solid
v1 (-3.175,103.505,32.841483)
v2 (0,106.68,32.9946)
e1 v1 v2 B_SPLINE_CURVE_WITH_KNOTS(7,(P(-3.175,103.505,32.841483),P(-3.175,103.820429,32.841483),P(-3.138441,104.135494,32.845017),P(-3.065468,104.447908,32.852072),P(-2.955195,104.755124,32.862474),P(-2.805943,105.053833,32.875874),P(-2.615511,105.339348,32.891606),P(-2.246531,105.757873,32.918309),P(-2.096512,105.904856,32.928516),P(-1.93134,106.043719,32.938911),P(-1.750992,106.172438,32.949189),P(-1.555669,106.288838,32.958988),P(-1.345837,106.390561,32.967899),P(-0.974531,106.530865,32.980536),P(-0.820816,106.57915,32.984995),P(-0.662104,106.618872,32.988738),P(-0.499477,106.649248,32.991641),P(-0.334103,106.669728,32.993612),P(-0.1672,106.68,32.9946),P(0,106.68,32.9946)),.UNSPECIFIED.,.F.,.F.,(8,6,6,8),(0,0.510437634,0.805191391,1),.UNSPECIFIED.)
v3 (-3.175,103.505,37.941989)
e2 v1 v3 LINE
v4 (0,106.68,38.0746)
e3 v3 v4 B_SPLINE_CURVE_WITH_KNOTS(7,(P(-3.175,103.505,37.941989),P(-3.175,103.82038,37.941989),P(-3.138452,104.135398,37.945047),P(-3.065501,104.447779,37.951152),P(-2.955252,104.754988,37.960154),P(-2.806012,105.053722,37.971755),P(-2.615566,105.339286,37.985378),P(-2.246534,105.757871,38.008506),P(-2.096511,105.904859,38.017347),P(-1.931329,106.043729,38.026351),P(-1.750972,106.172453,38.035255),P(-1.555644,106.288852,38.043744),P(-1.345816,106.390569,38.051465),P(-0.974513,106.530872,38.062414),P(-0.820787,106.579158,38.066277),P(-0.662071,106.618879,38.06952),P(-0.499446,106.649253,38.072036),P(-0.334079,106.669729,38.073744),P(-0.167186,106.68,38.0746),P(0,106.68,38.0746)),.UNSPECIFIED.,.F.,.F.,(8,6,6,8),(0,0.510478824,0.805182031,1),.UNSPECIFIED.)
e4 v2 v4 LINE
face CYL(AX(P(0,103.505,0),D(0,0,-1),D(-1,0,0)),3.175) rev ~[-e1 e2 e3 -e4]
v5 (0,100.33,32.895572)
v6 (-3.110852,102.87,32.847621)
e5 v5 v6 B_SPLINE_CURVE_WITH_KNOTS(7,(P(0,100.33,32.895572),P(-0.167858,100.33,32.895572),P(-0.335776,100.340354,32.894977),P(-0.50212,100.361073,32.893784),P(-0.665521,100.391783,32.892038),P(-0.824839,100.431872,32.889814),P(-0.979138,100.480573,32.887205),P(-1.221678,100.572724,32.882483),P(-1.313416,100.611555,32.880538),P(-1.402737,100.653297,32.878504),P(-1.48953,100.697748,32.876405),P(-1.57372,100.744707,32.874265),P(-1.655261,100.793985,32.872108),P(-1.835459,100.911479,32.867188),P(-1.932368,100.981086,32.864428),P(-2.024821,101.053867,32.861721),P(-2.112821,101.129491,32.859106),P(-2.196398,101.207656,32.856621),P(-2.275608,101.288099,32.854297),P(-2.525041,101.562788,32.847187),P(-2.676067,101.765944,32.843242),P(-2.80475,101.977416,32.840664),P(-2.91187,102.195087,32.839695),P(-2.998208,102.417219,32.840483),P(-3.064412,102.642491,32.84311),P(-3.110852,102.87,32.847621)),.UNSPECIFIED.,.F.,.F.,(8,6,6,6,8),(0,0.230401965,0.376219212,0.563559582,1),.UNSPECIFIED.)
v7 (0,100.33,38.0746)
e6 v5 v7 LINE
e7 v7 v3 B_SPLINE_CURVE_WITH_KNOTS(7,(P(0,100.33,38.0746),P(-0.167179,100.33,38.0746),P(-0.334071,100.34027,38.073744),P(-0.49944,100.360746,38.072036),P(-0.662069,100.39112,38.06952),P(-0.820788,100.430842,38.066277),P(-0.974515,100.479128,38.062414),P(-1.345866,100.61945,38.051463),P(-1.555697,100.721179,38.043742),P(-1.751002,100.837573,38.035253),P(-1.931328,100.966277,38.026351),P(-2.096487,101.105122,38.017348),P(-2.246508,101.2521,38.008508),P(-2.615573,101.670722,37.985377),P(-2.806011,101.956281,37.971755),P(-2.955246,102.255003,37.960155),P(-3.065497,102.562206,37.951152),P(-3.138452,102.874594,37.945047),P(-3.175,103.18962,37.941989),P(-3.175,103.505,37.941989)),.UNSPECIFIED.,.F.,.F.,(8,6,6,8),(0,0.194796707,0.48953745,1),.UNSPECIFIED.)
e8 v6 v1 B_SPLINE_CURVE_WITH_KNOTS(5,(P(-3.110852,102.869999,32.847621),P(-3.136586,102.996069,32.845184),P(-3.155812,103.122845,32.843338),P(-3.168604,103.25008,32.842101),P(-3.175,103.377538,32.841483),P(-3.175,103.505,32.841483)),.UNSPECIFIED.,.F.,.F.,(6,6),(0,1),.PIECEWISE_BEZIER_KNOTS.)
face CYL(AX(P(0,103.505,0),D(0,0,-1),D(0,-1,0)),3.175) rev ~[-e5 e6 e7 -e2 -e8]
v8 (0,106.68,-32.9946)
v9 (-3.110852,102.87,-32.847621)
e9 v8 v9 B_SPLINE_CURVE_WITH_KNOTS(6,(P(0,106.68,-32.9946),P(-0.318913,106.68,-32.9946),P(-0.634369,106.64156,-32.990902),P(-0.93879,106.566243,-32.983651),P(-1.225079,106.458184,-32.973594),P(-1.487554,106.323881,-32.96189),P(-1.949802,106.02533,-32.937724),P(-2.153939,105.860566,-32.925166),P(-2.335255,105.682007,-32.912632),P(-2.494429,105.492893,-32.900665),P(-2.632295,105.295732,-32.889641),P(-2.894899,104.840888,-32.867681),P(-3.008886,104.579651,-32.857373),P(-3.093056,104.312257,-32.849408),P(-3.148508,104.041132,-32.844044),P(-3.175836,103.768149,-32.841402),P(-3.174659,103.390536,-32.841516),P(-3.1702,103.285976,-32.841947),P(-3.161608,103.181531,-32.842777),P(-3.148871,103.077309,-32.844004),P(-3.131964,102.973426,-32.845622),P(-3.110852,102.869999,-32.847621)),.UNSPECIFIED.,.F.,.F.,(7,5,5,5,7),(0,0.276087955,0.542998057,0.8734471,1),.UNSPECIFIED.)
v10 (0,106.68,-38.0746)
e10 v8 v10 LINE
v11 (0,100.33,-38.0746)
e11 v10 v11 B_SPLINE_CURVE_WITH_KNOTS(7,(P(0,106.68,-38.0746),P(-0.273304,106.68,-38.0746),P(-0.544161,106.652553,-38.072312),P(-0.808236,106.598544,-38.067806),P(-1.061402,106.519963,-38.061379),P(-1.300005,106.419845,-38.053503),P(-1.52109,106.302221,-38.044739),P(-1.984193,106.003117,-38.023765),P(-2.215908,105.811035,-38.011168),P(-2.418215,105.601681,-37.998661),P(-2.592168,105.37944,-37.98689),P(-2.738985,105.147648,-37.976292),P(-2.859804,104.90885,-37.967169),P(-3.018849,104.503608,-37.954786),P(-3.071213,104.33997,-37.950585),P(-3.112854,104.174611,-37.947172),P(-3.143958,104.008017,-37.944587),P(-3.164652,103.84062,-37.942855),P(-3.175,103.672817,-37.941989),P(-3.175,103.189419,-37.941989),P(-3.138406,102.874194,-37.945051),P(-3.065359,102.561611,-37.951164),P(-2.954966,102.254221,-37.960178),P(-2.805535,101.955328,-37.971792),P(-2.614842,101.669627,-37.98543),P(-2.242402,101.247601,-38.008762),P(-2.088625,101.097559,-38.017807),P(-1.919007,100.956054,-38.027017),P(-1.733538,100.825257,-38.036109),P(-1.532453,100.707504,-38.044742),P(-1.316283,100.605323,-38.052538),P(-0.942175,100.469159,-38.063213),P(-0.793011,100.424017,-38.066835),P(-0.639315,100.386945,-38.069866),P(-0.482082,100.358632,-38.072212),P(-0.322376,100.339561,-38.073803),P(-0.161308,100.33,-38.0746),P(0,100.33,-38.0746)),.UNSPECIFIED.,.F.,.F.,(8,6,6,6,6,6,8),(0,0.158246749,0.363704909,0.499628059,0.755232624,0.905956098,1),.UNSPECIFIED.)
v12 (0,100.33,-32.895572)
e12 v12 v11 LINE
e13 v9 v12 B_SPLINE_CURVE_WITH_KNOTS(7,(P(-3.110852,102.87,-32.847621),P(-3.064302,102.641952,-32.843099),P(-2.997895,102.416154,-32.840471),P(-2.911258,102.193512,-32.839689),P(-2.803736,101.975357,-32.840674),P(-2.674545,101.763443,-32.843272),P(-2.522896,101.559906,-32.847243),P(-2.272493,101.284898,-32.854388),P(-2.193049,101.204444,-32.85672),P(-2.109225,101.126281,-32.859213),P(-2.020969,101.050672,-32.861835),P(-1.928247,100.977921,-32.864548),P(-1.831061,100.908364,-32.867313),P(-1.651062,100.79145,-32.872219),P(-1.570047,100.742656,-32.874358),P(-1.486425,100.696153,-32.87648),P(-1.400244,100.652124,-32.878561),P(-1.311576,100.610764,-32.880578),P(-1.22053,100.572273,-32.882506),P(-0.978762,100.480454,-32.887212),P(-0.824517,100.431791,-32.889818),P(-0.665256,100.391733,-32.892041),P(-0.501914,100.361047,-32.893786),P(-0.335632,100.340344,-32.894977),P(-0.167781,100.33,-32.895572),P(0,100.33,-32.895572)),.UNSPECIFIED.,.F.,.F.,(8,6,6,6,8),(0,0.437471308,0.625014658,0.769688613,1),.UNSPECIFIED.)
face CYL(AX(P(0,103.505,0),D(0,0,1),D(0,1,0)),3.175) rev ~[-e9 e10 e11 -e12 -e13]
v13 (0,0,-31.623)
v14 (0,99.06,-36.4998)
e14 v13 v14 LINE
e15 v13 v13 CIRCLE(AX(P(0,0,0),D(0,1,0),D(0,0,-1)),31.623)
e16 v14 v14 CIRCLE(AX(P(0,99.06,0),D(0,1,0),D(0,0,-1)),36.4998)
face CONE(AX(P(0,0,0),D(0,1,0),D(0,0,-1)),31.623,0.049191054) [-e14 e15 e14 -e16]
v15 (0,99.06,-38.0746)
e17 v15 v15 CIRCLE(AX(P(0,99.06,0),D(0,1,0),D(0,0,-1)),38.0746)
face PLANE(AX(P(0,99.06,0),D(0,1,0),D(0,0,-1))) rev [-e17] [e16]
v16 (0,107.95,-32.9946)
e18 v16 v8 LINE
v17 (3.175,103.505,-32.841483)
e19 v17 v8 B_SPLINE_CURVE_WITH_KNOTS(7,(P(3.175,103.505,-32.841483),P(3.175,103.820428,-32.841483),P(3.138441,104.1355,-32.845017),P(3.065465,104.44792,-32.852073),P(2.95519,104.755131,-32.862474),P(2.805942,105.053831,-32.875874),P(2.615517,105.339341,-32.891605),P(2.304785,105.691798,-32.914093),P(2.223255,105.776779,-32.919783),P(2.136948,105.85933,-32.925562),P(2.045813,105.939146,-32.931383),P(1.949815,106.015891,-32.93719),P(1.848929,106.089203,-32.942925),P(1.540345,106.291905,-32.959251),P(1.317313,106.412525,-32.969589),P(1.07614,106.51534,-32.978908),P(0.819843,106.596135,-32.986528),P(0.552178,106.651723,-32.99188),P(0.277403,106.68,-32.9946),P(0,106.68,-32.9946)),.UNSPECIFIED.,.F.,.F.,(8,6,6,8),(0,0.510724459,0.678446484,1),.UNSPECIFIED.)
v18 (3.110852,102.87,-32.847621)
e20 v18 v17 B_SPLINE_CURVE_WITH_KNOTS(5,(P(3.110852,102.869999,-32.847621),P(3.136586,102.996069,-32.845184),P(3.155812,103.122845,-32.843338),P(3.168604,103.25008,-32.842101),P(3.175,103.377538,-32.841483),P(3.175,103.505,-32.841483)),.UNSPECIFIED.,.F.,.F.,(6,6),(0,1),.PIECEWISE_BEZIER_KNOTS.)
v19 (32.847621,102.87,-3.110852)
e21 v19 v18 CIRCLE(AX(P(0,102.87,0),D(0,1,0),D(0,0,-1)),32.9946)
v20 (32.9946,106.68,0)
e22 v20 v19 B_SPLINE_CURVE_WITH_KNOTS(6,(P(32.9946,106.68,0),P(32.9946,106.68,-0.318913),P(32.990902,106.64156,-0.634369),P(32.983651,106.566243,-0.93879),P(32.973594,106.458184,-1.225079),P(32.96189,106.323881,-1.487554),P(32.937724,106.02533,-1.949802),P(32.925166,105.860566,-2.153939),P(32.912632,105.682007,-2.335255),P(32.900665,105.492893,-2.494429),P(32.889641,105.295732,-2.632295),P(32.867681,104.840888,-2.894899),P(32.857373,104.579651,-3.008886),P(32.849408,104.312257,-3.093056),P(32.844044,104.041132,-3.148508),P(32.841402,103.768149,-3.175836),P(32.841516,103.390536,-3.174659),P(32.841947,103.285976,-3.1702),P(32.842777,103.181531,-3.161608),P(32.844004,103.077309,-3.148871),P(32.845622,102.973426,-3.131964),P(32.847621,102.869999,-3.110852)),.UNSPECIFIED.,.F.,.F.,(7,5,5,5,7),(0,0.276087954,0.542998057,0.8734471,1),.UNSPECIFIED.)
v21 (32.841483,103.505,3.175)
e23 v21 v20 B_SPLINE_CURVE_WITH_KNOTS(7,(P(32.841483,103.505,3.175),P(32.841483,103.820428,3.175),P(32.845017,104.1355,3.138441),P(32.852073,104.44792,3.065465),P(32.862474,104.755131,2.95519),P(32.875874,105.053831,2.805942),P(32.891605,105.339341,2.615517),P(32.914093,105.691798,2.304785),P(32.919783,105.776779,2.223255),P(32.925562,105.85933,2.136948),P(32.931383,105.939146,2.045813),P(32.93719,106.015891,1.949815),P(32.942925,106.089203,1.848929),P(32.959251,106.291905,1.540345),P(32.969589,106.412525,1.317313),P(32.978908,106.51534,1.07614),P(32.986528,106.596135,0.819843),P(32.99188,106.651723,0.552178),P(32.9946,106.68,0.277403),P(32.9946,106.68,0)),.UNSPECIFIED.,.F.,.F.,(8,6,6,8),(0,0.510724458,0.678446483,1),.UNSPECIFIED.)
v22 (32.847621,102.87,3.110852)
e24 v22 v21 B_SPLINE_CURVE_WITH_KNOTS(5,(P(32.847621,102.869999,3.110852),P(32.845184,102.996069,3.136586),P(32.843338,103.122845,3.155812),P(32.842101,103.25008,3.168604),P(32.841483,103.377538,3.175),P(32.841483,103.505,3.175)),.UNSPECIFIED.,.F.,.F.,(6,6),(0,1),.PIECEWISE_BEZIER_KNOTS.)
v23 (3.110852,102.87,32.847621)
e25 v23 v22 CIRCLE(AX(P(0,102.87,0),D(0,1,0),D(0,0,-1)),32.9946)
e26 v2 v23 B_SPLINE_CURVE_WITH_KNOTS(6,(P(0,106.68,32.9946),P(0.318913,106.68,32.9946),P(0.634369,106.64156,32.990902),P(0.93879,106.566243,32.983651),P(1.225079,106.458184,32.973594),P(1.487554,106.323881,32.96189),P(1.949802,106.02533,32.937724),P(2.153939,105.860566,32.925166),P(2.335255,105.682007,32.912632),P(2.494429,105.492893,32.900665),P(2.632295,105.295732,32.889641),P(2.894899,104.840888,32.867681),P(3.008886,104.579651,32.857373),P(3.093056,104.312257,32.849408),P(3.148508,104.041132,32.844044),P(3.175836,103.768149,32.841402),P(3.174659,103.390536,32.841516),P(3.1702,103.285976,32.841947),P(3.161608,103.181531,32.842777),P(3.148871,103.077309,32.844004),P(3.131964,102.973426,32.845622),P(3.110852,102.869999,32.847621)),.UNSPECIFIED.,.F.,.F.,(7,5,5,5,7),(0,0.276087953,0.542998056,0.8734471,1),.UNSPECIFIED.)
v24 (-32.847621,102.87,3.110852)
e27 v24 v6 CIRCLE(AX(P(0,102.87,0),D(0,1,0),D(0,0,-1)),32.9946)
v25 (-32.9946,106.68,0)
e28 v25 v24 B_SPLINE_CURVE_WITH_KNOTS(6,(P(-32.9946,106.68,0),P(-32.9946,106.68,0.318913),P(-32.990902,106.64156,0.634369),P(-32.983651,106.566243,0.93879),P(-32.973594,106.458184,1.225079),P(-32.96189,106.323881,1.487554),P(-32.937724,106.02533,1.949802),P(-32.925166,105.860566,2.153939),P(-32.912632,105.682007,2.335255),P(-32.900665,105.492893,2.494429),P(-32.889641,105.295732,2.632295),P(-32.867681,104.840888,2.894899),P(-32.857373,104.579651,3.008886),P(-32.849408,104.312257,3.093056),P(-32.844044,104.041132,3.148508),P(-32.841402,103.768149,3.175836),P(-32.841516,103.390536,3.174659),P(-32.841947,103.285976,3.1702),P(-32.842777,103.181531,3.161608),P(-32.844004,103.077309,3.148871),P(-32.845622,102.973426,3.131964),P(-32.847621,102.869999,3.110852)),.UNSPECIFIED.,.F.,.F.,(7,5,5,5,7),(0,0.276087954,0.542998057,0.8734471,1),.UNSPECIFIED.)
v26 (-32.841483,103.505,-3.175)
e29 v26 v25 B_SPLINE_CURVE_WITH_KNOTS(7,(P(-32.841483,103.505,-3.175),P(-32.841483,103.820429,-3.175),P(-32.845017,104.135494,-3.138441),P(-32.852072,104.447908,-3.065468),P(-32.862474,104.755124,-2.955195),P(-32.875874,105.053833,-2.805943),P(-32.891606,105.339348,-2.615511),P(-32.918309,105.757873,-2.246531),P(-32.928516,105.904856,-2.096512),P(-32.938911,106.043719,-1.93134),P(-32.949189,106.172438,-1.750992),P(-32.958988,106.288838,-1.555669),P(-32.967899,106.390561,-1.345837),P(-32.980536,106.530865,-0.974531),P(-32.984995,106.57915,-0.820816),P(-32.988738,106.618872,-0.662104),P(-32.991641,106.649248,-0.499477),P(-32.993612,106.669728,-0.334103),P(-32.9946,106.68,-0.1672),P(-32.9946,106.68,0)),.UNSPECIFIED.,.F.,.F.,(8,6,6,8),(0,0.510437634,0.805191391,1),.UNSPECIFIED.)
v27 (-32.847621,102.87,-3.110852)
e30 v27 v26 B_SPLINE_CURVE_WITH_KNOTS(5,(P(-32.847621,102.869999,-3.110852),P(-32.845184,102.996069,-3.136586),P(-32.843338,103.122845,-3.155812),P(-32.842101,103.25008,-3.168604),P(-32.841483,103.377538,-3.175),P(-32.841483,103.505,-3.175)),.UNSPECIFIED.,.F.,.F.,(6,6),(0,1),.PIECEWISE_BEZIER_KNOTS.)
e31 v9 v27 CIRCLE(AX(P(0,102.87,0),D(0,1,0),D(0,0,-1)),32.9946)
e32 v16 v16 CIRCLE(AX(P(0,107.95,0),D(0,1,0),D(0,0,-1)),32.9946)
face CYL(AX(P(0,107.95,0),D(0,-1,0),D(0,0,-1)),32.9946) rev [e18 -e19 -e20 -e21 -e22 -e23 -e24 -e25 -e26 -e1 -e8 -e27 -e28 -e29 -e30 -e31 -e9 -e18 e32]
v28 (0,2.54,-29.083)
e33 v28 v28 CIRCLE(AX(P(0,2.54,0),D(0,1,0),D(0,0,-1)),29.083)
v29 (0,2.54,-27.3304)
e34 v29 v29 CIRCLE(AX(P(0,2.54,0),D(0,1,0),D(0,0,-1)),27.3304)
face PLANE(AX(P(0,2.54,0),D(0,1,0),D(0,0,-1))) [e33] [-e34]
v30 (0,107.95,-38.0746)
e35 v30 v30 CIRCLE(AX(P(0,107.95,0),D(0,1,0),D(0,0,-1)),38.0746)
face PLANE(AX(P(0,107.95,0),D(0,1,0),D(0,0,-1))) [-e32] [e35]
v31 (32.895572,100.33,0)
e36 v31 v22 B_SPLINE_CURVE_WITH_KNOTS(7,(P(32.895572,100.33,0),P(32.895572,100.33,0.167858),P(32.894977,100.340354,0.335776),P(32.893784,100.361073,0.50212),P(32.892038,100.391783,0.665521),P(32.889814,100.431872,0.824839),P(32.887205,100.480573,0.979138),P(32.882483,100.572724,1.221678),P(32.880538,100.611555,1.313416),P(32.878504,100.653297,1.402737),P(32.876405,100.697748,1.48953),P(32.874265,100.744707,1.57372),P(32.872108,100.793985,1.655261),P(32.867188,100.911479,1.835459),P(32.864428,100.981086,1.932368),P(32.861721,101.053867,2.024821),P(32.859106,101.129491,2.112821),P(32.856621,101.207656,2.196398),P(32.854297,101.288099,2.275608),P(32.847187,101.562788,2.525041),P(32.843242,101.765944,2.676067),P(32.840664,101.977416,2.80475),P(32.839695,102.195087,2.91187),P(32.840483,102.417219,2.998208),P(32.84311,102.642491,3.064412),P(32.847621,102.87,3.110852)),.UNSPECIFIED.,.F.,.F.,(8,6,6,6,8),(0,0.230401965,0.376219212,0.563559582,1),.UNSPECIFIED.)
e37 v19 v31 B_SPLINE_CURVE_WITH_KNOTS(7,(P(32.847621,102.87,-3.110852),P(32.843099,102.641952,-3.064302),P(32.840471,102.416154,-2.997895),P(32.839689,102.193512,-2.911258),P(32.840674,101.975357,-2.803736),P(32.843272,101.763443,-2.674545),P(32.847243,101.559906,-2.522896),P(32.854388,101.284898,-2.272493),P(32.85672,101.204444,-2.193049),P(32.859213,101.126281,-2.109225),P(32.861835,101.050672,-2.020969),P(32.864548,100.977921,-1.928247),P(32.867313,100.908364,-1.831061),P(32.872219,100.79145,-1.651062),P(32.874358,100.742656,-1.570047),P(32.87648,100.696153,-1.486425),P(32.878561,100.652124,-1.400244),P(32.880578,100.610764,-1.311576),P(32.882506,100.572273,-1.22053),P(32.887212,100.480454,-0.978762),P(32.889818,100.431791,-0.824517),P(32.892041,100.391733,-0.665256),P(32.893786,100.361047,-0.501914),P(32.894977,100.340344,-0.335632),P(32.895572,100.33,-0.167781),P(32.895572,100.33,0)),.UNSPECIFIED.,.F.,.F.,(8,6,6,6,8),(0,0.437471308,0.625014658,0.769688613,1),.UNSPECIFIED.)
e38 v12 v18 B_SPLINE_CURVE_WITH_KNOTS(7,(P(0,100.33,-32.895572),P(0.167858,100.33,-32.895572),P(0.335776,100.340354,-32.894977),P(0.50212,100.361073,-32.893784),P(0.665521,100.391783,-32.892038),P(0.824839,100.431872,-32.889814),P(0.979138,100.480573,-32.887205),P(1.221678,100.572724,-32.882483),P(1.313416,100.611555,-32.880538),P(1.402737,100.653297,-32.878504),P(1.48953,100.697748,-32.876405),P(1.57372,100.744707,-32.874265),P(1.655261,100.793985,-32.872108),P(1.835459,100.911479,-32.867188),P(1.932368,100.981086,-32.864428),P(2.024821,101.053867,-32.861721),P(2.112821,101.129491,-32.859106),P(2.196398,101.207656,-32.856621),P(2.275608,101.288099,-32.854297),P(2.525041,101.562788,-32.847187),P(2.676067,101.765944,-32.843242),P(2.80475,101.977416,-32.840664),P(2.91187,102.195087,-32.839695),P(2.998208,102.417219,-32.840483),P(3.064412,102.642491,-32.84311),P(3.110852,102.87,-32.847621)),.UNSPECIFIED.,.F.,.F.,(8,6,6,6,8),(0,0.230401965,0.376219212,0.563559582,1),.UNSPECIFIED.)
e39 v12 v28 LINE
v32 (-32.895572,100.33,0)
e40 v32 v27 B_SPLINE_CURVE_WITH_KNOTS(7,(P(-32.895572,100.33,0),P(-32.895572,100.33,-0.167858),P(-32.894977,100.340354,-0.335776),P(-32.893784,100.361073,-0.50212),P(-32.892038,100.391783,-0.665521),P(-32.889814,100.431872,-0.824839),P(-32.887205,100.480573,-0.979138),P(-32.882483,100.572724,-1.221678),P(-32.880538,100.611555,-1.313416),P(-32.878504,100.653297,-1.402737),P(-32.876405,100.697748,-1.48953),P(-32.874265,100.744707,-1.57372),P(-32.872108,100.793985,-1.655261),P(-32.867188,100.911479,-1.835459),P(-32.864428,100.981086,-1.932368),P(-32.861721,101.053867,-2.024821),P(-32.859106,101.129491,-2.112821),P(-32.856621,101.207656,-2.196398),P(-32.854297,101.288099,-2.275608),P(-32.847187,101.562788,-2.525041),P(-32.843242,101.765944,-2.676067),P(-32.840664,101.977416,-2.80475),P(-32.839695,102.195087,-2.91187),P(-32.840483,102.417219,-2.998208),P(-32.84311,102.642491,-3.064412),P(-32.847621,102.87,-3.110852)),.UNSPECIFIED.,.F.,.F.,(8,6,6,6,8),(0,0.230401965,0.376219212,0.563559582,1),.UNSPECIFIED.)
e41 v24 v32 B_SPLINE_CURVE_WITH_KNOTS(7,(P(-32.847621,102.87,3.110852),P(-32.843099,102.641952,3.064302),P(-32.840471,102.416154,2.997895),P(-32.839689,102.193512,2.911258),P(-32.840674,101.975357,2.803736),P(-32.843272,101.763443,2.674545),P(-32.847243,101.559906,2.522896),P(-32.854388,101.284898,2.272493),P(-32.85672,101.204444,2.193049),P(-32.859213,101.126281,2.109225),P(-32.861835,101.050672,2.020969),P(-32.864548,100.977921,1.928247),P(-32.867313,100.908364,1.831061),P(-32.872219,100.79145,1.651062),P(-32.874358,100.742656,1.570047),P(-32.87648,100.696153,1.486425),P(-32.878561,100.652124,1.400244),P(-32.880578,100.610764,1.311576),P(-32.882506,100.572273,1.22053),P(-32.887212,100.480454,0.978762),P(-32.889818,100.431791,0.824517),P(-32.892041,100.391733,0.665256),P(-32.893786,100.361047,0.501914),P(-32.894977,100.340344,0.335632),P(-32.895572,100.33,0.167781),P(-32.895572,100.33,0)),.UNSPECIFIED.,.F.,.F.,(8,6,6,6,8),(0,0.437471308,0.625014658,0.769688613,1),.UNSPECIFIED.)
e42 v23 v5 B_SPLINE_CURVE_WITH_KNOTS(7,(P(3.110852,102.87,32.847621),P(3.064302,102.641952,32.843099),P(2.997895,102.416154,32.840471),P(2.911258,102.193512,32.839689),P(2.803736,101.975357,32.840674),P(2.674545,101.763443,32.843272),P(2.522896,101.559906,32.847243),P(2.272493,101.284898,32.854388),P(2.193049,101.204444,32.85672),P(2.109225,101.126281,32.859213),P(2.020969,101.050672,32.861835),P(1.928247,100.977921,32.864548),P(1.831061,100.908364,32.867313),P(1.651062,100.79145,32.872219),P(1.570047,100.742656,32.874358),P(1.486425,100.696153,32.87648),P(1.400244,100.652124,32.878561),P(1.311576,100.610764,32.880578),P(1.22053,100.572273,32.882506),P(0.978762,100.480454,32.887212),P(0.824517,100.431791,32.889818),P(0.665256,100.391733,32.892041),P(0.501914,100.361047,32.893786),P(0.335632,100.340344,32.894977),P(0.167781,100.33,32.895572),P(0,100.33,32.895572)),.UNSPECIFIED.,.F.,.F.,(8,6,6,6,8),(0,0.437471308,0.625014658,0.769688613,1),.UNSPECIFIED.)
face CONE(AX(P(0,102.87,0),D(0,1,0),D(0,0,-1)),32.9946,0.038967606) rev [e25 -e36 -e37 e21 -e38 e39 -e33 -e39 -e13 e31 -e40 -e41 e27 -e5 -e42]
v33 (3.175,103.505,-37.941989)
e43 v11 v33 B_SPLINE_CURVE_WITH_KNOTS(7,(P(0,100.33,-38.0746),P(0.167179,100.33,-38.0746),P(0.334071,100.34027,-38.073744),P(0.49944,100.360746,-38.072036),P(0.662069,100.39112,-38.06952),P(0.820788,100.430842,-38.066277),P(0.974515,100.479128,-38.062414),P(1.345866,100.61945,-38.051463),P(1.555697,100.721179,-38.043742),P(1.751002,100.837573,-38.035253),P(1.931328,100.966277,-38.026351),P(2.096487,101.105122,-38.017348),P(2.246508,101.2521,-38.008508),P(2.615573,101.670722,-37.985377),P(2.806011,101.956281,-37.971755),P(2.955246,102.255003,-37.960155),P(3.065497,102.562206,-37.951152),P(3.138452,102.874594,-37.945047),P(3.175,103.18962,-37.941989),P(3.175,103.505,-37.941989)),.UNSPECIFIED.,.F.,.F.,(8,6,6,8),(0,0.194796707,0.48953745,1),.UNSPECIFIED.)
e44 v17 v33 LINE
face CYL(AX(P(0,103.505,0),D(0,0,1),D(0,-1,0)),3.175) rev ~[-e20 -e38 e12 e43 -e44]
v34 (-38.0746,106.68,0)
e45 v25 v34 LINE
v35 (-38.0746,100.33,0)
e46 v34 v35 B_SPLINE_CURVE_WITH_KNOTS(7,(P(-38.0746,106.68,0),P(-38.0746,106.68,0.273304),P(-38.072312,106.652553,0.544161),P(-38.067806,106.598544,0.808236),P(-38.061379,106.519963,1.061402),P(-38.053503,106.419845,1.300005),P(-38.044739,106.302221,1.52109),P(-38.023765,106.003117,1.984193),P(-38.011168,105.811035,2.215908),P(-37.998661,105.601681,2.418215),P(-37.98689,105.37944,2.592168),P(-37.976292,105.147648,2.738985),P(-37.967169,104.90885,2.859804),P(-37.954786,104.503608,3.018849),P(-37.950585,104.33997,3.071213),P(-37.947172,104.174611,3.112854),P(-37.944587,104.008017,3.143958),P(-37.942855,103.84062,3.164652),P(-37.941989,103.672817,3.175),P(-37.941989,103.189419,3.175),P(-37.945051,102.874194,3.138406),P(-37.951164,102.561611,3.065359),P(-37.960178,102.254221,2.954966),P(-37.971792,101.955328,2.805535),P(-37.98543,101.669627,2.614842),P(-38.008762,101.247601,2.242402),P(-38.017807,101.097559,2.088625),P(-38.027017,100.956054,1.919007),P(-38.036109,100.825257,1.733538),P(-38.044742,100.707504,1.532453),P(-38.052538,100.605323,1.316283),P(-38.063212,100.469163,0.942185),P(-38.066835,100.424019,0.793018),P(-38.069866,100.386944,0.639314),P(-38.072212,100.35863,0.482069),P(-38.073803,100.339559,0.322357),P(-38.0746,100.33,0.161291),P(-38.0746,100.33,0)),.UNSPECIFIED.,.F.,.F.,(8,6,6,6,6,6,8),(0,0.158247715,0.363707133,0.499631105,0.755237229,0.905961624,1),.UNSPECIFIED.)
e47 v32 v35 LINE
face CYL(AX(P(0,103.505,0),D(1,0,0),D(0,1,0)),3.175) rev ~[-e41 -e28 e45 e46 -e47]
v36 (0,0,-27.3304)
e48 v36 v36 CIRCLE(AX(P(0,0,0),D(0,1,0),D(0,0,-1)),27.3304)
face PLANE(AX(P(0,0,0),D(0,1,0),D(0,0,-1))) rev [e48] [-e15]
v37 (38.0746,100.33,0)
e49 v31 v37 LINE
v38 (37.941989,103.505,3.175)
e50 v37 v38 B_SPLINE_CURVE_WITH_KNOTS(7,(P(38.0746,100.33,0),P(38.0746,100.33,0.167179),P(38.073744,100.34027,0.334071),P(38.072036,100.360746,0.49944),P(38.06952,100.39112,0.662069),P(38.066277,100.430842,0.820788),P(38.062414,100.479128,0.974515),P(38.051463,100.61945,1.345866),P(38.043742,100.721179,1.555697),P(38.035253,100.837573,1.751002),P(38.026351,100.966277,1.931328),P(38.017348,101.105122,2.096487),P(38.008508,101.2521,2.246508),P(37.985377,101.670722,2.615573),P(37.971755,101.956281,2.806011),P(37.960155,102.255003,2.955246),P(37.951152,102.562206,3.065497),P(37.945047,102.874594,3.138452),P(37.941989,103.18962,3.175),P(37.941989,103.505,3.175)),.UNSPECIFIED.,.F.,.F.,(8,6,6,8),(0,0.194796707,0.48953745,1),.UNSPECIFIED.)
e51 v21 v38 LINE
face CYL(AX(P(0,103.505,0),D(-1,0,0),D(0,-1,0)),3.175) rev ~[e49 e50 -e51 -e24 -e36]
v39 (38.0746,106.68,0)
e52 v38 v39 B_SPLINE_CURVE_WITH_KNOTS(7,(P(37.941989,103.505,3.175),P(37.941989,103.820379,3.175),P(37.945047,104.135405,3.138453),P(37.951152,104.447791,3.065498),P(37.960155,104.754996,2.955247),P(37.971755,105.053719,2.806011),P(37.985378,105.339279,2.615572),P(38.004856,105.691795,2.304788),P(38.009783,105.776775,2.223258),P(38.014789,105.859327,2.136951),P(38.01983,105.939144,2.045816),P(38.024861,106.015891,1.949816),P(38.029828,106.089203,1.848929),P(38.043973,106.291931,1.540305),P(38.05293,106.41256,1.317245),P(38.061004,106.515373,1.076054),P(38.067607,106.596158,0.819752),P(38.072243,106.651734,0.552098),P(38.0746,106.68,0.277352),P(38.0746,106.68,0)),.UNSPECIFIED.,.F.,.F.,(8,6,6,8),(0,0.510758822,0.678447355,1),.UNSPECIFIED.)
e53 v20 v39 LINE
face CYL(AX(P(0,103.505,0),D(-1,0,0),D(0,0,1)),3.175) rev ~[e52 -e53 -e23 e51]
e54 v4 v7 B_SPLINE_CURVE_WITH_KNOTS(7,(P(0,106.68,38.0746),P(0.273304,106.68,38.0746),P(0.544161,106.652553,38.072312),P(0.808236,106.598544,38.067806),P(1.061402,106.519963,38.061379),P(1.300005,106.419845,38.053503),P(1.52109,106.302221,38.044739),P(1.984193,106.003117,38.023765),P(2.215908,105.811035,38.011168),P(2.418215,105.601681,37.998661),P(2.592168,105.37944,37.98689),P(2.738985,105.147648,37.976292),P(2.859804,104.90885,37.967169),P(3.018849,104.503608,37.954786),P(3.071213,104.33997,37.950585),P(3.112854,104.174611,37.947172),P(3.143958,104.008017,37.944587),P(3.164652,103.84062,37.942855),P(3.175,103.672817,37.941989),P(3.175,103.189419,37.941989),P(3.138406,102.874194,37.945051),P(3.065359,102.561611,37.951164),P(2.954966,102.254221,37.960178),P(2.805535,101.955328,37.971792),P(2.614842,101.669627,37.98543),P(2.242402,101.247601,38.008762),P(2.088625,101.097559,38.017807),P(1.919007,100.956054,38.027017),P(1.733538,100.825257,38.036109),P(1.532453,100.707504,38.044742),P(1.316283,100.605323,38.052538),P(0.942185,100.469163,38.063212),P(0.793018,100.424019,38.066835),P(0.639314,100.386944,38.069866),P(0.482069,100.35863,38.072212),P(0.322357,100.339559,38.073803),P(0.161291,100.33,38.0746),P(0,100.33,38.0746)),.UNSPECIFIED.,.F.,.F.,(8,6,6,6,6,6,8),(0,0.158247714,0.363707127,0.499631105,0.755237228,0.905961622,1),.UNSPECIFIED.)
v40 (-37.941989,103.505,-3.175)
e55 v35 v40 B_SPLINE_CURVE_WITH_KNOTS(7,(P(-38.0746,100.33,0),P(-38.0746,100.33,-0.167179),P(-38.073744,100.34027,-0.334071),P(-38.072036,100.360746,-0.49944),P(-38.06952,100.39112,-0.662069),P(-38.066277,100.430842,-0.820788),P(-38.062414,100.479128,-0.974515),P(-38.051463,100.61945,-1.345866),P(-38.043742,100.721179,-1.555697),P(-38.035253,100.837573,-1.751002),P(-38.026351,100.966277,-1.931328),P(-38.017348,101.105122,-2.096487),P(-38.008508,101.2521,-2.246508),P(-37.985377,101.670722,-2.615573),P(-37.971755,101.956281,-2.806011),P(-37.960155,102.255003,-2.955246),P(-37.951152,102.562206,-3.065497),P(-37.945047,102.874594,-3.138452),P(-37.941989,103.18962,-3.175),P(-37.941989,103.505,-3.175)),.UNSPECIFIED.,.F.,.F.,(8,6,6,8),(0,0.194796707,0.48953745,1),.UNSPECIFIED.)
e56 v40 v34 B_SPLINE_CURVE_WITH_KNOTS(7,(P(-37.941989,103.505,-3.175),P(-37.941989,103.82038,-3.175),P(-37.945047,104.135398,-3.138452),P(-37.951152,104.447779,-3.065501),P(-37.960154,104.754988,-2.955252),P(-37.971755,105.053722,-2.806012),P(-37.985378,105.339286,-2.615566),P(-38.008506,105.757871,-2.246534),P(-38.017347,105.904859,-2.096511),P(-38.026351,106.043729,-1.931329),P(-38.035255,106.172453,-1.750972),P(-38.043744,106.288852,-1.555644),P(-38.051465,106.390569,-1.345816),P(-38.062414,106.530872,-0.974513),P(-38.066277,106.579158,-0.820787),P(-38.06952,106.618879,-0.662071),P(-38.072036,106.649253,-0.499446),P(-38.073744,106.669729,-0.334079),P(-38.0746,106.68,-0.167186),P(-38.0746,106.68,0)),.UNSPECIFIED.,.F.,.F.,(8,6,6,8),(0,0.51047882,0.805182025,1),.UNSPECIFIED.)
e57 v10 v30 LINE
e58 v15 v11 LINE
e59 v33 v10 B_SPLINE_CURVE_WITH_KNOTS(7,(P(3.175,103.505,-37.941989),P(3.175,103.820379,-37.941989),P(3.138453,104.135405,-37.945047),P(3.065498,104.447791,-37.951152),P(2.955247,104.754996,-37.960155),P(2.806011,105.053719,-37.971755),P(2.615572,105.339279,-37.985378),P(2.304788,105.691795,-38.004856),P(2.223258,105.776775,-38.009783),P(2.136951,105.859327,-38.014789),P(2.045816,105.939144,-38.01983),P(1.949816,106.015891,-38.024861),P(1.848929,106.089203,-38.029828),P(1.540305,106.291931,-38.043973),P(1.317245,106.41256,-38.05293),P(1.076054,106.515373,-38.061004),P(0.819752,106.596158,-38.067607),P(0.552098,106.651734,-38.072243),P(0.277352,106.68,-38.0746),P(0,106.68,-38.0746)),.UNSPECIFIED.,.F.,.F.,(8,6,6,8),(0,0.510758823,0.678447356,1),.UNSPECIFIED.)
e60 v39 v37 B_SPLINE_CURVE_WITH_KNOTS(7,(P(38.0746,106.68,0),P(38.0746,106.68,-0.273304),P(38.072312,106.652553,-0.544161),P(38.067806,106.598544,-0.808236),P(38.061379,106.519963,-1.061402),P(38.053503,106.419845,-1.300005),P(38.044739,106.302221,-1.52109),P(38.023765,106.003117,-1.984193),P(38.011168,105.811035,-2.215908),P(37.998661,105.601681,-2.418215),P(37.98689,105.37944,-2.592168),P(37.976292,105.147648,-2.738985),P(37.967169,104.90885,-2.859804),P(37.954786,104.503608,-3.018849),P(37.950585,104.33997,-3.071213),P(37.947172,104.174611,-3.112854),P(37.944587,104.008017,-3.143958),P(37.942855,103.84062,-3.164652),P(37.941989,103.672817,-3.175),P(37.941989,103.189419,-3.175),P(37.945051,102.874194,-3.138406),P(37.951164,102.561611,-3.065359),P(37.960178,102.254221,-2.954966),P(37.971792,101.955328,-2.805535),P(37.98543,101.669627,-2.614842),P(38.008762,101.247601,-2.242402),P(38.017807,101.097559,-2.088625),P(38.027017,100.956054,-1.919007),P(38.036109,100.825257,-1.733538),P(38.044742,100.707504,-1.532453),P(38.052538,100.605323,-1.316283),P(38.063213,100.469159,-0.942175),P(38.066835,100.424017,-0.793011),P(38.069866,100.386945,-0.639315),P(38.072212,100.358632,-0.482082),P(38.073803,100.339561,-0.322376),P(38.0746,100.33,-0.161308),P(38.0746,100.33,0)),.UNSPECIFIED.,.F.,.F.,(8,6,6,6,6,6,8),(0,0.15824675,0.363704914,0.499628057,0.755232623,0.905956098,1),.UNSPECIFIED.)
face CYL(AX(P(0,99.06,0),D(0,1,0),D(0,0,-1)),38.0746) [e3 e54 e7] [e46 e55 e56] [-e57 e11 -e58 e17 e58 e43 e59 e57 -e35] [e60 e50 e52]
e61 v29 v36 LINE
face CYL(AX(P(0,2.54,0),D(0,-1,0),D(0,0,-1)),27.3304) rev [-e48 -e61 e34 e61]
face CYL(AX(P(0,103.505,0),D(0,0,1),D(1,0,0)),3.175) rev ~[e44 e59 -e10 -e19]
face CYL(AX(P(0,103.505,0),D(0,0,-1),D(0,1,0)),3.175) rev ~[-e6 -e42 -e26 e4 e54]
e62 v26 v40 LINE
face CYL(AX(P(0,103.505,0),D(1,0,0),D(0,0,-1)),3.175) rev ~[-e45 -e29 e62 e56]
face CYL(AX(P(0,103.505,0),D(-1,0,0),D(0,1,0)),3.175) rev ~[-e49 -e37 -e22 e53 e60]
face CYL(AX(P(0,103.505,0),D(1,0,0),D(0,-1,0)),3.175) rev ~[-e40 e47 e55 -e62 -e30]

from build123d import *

# Parameters (mm, degrees)
CUT_EXTRUDE2_DEPTH = 45.212
CIRPATTERN2_COUNT  = 4


with BuildPart() as part:
    # Sketch2 → Revolve2 (revolve)
    with BuildSketch(Plane.XY, mode=Mode.PRIVATE) as revolve2_sk:
        Polygon((27.3304, 2.54), (27.3304, 0), (31.623, 0), (36.4998, 99.06), (38.0746, 99.06), (38.0746, 107.95), (32.9946, 107.95), (32.9946, 102.87), (29.083, 2.54), align=None)
    revolve(revolve2_sk.sketch.rotate(Axis((0, 0, 0), (0, 1, 0)), 90), axis=Axis((0, 0, 0), (0, 1, 0)))

    # Sketch5 → Cut-Extrude2 (cut)
    with BuildSketch(Plane.XY):
        with BuildLine():
            ThreePointArc((3.175, 103.505), (2.24506403, 105.75006403), (0, 106.68))
            Line((0, 106.68), (0, 100.33))
            ThreePointArc((0, 100.33), (2.24506403, 101.25993597), (3.175, 103.505))
        make_face()
        with BuildLine():
            Line((0, 100.33), (0, 106.68))
            ThreePointArc((0, 106.68), (-3.175, 103.505), (0, 100.33))
        make_face()
    cut_extrude2 = extrude(amount=-CUT_EXTRUDE2_DEPTH, mode=Mode.SUBTRACT)

    # CirPattern2: Cut-Extrude2 ×4 about axis
    cirpattern2_axis = Axis((0, 0, 0), (0, -1, 0))
    for i in range(1, CIRPATTERN2_COUNT):
        add(cut_extrude2.rotate(cirpattern2_axis, i * 360 / CIRPATTERN2_COUNT), mode=Mode.SUBTRACT)


solid = part.part
